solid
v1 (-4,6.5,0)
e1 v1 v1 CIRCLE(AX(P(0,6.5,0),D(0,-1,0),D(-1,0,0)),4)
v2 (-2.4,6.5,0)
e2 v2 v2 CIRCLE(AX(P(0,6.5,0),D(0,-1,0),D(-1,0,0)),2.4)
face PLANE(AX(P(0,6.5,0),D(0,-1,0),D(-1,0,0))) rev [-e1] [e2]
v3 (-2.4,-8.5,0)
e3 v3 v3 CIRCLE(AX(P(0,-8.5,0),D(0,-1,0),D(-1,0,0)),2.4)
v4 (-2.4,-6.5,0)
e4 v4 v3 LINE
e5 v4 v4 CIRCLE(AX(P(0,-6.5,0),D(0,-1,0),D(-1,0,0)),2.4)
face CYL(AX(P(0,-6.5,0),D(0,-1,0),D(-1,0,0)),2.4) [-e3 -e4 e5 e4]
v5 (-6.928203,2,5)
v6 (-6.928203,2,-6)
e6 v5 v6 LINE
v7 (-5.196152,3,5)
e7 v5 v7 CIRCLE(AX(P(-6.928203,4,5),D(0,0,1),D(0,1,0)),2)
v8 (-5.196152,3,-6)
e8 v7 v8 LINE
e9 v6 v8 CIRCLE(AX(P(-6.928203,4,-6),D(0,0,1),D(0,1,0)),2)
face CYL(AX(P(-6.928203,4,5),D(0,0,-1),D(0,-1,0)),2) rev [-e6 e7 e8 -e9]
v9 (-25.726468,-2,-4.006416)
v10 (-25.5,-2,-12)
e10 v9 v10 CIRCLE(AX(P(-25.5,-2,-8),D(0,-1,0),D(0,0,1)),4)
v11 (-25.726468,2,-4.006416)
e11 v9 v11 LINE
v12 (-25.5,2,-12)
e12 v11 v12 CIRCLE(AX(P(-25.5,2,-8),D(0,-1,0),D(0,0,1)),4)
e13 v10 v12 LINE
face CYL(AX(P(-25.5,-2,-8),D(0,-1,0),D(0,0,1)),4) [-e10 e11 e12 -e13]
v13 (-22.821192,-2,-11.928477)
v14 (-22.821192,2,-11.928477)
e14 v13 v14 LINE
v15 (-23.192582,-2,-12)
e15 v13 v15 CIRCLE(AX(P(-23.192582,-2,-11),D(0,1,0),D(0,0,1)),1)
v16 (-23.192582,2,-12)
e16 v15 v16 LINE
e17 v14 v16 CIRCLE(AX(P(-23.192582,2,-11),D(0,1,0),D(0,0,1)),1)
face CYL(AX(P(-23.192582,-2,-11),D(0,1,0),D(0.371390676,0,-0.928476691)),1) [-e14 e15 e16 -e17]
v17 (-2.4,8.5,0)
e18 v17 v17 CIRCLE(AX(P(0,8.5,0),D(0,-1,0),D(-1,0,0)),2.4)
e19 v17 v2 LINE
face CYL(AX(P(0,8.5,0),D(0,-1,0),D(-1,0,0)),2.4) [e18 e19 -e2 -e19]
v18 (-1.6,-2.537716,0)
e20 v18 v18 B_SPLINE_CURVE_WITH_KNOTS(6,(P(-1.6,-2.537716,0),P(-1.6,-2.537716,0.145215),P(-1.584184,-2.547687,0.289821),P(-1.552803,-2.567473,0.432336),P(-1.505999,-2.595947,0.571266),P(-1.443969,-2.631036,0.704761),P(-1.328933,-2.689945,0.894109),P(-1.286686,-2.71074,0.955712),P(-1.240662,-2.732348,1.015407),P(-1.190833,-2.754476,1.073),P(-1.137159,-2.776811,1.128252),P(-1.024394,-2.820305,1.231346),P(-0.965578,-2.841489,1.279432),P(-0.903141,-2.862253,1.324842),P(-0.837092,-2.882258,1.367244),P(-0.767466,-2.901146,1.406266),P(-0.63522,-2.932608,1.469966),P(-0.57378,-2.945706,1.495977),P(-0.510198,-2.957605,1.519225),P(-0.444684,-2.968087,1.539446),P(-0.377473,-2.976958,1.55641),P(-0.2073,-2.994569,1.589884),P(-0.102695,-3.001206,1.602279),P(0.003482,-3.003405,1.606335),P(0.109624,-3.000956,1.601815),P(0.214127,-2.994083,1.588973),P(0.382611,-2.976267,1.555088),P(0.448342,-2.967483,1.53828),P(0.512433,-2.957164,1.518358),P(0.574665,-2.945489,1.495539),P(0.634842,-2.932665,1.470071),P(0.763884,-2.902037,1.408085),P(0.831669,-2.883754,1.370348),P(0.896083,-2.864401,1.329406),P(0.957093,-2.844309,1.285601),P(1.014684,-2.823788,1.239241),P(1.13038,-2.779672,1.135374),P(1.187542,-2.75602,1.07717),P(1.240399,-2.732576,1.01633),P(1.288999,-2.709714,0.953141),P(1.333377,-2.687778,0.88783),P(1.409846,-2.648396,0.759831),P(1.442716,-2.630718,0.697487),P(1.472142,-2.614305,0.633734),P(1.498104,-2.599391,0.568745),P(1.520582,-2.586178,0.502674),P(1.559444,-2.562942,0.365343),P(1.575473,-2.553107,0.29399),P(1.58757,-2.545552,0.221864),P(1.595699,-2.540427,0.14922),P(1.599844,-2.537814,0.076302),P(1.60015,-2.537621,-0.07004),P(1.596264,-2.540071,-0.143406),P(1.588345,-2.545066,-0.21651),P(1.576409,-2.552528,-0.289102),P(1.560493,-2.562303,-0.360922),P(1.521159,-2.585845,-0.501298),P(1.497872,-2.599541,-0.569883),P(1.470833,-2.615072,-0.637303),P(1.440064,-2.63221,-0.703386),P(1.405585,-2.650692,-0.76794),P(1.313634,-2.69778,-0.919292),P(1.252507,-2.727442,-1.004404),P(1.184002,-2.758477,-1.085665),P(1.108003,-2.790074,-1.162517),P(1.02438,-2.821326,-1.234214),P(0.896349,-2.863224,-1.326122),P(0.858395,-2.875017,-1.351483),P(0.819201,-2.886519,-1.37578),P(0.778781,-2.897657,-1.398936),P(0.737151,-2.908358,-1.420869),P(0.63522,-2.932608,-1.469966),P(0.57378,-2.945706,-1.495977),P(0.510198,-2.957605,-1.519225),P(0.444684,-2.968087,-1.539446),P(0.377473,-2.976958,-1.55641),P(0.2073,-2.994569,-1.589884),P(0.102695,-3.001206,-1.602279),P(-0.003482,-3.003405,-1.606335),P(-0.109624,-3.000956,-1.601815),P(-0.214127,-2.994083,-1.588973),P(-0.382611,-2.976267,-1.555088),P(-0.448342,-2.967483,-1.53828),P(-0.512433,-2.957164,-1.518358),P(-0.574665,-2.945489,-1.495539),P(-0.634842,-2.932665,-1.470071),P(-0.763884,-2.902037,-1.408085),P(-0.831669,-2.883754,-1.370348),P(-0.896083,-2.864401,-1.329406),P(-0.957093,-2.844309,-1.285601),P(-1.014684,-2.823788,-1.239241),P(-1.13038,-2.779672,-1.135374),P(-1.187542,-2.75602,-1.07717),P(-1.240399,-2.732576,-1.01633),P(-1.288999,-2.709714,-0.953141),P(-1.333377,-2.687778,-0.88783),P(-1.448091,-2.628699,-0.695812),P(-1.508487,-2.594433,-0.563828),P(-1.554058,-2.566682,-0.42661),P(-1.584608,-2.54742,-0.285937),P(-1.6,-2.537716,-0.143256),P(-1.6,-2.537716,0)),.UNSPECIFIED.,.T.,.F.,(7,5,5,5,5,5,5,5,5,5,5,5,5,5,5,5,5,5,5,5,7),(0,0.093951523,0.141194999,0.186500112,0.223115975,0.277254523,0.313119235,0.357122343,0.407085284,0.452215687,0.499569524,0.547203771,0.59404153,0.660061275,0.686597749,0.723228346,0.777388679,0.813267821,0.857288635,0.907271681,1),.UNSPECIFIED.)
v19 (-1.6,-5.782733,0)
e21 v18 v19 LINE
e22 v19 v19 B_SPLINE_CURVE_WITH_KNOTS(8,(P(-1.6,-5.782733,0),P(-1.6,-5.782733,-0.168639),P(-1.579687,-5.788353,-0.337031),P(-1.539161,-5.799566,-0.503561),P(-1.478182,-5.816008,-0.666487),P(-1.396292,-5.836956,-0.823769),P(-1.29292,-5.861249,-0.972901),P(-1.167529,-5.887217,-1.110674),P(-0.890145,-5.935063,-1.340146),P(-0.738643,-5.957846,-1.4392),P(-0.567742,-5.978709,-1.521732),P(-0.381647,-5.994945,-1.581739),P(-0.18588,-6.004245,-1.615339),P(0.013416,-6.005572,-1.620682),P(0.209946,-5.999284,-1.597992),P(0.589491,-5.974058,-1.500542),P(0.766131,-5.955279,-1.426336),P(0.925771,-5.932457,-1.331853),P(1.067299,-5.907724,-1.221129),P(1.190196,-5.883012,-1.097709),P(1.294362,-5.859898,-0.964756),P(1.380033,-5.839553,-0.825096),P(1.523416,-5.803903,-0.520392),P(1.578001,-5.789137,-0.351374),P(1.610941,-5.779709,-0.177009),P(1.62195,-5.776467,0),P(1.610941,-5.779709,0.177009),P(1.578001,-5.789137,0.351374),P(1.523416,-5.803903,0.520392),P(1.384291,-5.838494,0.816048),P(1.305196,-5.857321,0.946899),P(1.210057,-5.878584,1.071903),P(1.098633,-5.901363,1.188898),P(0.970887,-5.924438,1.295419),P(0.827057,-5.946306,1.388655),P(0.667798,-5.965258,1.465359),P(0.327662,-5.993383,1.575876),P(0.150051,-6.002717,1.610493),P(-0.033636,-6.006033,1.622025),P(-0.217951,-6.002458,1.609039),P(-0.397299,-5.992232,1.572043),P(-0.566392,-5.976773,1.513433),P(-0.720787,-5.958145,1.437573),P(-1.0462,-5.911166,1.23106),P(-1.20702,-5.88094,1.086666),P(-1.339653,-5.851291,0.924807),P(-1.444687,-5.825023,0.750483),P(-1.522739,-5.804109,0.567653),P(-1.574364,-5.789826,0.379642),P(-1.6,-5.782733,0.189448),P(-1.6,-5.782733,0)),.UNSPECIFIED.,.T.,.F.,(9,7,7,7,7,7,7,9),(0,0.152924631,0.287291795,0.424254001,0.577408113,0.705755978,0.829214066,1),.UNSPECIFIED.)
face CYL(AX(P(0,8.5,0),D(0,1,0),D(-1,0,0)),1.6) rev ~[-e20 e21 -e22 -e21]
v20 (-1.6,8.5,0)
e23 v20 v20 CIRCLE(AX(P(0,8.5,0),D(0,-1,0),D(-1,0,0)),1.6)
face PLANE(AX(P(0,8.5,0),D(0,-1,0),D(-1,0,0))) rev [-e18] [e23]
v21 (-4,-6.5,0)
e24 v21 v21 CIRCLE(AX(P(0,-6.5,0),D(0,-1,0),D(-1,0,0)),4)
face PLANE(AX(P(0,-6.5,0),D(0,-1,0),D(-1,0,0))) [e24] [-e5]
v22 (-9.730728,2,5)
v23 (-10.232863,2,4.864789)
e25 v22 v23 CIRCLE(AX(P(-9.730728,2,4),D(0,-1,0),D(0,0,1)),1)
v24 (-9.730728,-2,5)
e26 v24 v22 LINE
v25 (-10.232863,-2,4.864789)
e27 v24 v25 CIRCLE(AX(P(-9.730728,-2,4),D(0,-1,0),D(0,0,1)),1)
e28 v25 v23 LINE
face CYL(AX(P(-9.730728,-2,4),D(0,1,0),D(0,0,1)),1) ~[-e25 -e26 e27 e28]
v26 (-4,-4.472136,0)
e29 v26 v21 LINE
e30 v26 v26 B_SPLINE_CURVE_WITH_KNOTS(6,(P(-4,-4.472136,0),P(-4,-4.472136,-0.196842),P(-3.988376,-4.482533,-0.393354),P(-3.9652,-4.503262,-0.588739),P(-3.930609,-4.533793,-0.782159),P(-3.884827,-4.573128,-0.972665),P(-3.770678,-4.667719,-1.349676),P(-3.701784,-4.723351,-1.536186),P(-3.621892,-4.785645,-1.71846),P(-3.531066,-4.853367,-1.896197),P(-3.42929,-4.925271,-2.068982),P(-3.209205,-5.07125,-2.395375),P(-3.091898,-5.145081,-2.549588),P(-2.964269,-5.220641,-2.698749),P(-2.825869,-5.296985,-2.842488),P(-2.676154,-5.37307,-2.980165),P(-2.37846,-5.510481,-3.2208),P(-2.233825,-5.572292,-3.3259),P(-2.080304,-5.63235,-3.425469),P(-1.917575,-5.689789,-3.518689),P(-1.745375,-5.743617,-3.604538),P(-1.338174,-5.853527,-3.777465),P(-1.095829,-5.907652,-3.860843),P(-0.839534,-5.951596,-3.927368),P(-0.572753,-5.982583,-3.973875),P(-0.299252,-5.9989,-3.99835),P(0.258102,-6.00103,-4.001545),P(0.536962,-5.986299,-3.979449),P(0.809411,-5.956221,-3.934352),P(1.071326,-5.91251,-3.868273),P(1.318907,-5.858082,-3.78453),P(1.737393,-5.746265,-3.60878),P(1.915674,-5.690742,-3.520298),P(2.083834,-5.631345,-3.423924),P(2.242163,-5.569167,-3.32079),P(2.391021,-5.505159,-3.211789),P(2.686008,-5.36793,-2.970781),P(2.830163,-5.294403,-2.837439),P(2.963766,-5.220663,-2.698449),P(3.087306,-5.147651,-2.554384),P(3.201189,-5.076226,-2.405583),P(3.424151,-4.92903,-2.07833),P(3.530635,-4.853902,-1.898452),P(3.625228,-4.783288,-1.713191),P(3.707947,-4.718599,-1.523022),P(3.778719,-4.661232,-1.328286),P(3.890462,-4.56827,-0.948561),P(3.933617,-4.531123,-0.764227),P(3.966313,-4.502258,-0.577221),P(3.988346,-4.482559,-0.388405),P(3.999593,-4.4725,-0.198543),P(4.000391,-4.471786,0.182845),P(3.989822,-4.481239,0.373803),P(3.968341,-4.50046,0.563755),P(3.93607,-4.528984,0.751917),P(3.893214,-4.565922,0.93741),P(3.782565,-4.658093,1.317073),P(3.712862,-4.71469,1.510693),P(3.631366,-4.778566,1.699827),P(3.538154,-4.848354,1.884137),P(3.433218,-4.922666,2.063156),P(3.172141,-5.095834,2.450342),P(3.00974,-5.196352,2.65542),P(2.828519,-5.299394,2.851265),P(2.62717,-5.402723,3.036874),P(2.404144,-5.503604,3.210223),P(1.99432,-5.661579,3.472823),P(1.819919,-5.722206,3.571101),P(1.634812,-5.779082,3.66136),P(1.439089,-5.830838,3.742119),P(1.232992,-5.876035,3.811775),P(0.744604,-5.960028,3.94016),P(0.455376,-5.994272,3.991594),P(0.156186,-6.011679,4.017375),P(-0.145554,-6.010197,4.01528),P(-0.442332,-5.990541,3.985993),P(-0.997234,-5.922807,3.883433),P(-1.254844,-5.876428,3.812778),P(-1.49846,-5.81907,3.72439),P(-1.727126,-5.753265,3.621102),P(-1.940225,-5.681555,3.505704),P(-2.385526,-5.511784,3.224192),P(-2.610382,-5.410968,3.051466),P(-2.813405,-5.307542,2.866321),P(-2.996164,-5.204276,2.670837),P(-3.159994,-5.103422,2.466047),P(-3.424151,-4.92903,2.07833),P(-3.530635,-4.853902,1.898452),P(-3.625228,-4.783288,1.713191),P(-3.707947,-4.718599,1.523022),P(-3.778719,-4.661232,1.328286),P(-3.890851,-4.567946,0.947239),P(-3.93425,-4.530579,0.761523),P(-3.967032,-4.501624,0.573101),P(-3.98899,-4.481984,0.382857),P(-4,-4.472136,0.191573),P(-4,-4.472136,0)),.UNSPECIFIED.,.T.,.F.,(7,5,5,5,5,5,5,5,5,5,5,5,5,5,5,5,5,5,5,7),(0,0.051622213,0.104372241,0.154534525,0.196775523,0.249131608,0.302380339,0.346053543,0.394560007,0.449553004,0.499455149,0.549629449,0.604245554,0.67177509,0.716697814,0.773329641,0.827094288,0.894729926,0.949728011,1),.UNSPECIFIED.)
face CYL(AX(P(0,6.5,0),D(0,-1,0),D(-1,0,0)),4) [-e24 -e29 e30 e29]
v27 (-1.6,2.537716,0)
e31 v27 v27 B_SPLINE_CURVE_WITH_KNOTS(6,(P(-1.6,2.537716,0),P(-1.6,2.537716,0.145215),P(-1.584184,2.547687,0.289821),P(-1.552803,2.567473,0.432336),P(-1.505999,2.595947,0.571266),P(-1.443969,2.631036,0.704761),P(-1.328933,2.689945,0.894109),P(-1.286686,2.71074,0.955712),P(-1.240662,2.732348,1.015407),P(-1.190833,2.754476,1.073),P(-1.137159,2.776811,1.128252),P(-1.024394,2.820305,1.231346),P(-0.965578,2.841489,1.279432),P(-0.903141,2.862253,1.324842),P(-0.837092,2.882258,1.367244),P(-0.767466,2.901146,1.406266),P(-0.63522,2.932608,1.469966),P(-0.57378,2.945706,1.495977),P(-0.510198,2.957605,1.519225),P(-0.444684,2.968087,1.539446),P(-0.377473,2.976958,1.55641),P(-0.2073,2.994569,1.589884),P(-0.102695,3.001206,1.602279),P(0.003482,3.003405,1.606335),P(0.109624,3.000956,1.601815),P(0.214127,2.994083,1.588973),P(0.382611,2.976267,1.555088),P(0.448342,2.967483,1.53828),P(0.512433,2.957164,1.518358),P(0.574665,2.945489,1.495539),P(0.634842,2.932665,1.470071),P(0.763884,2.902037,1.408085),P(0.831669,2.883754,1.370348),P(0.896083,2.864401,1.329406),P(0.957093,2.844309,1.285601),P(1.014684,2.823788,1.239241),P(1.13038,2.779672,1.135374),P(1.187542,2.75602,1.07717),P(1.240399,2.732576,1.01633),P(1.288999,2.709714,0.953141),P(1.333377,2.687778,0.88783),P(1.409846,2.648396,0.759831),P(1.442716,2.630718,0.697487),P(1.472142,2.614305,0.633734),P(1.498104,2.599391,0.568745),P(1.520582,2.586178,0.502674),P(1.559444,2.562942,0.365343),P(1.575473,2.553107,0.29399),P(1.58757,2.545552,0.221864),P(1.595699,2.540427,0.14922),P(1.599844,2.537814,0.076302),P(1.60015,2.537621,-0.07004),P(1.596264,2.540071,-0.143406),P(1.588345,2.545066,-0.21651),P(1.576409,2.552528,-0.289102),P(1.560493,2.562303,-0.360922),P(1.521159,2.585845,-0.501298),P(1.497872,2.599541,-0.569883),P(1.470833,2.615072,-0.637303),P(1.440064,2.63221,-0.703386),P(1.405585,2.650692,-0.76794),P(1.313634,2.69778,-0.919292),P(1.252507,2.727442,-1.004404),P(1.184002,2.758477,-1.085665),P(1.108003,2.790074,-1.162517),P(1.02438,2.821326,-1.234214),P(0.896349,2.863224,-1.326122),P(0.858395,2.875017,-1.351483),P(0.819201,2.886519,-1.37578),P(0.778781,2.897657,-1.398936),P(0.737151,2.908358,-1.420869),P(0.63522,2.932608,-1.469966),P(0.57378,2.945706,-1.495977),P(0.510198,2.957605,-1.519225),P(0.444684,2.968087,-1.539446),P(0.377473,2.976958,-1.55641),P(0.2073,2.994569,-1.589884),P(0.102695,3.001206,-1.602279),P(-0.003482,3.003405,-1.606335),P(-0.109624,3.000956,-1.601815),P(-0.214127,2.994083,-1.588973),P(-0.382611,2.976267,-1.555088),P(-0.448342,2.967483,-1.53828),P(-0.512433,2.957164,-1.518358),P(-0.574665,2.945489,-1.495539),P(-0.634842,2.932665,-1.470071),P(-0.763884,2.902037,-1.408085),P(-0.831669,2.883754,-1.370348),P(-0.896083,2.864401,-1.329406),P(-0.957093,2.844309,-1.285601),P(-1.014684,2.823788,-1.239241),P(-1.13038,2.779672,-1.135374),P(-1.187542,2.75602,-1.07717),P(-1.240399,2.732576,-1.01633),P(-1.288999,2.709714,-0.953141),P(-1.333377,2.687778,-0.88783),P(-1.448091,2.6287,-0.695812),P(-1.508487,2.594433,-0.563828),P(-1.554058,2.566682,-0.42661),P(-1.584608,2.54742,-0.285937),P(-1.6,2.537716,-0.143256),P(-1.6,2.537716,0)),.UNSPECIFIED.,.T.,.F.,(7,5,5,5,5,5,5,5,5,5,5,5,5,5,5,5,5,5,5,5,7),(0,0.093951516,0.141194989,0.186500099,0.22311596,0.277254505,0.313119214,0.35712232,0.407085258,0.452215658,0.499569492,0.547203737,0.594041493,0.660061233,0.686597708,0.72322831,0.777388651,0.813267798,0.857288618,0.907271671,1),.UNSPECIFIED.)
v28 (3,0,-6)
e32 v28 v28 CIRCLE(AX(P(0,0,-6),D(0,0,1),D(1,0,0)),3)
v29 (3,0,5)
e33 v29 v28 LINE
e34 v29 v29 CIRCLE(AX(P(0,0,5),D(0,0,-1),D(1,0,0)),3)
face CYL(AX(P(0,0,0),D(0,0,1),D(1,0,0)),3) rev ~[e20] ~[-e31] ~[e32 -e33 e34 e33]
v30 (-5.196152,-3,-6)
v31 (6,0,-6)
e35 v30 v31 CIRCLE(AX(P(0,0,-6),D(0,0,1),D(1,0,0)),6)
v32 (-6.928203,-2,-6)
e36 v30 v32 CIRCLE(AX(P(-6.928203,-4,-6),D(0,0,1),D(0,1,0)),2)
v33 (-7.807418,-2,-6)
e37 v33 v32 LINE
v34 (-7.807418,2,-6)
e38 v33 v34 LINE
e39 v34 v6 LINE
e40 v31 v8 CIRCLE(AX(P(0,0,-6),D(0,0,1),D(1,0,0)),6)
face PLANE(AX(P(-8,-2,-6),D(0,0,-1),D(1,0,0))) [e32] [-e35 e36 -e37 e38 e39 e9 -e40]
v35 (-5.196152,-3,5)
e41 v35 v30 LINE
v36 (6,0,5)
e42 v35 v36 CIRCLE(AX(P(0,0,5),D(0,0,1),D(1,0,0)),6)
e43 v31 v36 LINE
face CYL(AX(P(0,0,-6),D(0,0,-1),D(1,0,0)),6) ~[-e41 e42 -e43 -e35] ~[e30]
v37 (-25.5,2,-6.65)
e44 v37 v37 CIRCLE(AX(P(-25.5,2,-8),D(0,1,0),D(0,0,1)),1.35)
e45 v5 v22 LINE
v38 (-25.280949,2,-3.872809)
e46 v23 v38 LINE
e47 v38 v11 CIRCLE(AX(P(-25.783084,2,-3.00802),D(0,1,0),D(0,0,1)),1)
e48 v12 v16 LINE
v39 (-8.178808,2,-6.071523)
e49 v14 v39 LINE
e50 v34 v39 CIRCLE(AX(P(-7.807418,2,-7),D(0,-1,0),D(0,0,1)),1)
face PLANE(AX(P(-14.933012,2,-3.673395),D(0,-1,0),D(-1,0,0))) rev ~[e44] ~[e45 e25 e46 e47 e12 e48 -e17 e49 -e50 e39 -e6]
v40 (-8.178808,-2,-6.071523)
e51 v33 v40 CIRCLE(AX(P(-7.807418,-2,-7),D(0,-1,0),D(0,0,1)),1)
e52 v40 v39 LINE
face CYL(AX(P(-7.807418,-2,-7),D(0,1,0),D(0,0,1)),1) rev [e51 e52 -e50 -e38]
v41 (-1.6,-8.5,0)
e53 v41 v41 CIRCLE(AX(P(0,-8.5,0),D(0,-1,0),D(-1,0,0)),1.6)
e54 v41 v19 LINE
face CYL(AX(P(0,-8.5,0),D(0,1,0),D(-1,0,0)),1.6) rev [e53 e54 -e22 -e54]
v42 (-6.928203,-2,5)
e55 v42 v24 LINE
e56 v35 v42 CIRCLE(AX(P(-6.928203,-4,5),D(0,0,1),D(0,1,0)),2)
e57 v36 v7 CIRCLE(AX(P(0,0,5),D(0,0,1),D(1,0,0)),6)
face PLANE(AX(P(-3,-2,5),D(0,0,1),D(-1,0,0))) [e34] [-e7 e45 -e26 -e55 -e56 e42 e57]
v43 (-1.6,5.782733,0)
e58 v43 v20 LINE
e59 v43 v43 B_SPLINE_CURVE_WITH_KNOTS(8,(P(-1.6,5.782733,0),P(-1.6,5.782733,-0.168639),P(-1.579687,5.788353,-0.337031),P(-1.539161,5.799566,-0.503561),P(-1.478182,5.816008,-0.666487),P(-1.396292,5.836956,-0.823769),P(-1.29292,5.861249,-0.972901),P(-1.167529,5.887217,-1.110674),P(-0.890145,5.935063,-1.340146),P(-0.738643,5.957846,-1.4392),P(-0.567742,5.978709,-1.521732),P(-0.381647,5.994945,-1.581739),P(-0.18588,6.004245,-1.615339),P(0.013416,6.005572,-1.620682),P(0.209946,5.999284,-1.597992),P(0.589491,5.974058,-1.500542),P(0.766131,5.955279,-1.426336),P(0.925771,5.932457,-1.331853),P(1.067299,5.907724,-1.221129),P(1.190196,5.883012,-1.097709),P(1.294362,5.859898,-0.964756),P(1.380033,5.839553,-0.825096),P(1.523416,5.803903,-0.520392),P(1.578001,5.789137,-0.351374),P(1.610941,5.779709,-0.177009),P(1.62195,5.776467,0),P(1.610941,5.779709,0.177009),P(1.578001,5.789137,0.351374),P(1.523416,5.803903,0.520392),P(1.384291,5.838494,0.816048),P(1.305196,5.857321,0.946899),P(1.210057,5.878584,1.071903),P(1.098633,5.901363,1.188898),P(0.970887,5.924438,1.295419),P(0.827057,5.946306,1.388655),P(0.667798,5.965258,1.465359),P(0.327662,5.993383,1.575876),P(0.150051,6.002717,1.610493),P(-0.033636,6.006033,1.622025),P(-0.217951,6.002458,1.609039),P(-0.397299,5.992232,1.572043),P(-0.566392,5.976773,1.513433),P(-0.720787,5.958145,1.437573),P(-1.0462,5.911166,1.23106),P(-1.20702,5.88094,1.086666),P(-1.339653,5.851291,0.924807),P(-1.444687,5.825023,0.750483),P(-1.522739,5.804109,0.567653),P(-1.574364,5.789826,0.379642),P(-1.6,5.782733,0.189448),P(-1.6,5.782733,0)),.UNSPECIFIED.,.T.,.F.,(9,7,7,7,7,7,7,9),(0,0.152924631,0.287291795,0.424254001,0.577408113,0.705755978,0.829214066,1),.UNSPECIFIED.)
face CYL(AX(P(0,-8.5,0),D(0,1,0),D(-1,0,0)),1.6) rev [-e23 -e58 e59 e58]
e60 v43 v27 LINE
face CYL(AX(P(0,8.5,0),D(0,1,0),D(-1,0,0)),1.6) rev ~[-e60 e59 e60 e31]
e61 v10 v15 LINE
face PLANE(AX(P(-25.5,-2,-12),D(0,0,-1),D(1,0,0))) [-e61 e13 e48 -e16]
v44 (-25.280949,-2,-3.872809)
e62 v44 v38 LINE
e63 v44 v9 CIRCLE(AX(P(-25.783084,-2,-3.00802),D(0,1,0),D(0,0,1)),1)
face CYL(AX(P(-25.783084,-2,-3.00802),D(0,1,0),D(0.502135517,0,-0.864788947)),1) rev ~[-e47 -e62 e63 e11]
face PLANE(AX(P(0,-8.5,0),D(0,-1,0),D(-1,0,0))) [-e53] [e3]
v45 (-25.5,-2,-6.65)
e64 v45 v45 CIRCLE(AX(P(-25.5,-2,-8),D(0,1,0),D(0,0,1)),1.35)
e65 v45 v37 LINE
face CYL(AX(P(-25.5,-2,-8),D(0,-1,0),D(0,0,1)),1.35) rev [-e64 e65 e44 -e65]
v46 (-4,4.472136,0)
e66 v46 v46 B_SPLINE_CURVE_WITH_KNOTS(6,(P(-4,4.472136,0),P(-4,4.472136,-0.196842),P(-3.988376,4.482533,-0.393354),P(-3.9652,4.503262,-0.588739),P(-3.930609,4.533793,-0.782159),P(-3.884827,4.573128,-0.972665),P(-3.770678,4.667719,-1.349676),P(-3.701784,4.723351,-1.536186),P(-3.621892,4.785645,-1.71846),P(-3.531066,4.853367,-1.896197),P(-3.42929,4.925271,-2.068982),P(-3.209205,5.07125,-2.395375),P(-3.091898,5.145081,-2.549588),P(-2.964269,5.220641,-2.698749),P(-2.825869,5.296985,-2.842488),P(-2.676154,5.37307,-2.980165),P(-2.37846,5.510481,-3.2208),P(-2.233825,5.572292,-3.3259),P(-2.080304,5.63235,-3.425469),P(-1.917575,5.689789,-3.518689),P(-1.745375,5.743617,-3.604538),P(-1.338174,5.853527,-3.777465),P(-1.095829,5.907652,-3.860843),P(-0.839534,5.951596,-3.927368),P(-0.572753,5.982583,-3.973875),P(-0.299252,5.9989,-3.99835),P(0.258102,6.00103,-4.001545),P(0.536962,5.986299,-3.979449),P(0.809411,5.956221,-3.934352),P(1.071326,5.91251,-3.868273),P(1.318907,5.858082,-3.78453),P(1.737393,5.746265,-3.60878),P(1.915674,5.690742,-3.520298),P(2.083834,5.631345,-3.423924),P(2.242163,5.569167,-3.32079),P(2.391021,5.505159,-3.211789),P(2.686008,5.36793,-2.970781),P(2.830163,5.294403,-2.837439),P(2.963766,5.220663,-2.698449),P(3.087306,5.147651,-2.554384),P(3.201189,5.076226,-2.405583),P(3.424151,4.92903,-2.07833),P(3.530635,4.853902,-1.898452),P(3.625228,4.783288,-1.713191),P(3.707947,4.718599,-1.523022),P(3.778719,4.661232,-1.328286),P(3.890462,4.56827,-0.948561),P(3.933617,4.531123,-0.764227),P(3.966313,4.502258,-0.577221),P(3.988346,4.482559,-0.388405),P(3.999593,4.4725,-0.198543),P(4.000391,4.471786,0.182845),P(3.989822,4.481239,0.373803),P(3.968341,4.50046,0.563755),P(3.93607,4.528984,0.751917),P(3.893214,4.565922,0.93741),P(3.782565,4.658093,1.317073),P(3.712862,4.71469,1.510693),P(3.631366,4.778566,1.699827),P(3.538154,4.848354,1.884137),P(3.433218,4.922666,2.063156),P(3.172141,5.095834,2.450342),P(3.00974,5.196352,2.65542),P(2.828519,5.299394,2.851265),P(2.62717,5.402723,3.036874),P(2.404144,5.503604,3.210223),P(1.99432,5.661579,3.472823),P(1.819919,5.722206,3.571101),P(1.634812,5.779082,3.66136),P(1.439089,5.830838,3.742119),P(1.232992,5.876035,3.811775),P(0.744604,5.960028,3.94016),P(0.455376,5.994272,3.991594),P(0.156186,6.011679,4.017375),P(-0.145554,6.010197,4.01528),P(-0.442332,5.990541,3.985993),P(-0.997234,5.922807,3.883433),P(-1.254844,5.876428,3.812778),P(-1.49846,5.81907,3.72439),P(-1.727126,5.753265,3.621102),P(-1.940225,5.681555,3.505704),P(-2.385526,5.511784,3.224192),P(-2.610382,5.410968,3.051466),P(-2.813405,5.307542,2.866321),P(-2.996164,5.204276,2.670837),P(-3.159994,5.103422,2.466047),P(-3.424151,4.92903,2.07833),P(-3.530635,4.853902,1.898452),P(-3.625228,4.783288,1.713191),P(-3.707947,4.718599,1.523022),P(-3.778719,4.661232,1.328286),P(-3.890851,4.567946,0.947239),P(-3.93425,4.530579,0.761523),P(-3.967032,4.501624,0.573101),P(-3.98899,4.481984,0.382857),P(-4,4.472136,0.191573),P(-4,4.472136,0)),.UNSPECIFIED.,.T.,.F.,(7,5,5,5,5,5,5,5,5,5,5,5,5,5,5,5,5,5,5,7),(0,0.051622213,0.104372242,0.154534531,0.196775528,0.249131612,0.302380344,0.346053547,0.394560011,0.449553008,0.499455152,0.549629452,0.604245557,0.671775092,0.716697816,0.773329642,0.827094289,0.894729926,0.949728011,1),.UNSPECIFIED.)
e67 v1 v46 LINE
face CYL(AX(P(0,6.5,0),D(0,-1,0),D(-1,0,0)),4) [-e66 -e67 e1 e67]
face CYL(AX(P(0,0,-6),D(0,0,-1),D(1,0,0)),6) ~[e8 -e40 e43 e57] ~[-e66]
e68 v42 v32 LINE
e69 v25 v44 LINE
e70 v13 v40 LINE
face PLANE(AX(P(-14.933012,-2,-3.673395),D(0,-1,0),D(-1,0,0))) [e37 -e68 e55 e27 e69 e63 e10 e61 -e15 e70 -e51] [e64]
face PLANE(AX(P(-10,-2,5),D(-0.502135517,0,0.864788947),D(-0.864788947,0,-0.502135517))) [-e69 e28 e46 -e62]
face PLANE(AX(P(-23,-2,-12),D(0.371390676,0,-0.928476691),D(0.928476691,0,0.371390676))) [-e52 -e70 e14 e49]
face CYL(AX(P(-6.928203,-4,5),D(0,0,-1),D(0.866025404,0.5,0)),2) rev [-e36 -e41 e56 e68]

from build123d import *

# Parameters (mm, degrees)
BOSS_EXTRUDE1_DEPTH            = 5
BOSS_EXTRUDE1_DEPTH_BACK       = 6
SKETCH2_R                      = 6
CUT_EXTRUDE1_REACH             = 14.01
SKETCH3_R                      = 3
CUT_EXTRUDE1_DIRECTION_2_REACH = 14.01
SKETCH4_R                      = 1.6
CUT_EXTRUDE4_DEPTH             = 17
BOSS_EXTRUDE2_DEPTH            = 2
BOSS_EXTRUDE2_DEPTH_BACK       = 2
SKETCH5_R                      = 1.35
FILLET1_R                      = 2
FILLET2_R                      = 1


with BuildPart() as part:
    # Sketch1 → Revolve1 (revolve)
    with BuildSketch(Plane.XY, mode=Mode.PRIVATE) as revolve1_sk:
        Polygon((1.6, -8.5), (1.6, 8.5), (2.4, 8.5), (2.4, 6.5), (4, 6.5), (4, -6.5), (2.4, -6.5), (2.4, -8.5), align=None)
    revolve(revolve1_sk.sketch.rotate(Axis((0, 9.772747413, 0), (0, -1, 0)), 180), axis=Axis((0, 9.772747413, 0), (0, -1, 0)))

    # Sketch2 → Boss-Extrude1 (add, two sides: drawn at the far end of the back side and taken through both)
    with BuildSketch(Plane.XY.offset(-BOSS_EXTRUDE1_DEPTH_BACK)):
        Circle(SKETCH2_R)
    extrude(amount=BOSS_EXTRUDE1_DEPTH + BOSS_EXTRUDE1_DEPTH_BACK)

    # Sketch3 → Cut-Extrude1 (cut, up to next)
    with BuildSketch(Plane.XY, mode=Mode.PRIVATE) as cut_extrude1_sk1:
        Circle(SKETCH3_R)
    cut_extrude1_tool1 = extrude(cut_extrude1_sk1.sketch, amount=-CUT_EXTRUDE1_REACH, mode=Mode.PRIVATE) & part.part
    add(cut_extrude1_tool1.solids().sort_by_distance((0, 0, 0))[0], mode=Mode.SUBTRACT)

    # Sketch3 → Cut-Extrude1 direction 2 (cut, up to next)
    with BuildSketch(Plane.XY, mode=Mode.PRIVATE) as cut_extrude1_direction_2_sk1:
        Circle(SKETCH3_R)
    cut_extrude1_direction_2_tool1 = extrude(cut_extrude1_direction_2_sk1.sketch, amount=CUT_EXTRUDE1_DIRECTION_2_REACH, mode=Mode.PRIVATE) & part.part
    add(cut_extrude1_direction_2_tool1.solids().sort_by_distance((0, 0, 0))[0], mode=Mode.SUBTRACT)

    # Sketch4 → Cut-Extrude4 (cut)
    with BuildSketch(Plane(origin=(0, 8.5, 0), x_dir=(1, 0, 0), z_dir=(0, 1, 0))):
        with Locations(Location((0, 0, 0), (0, 0, 180))):
            Circle(SKETCH4_R)
    extrude(amount=-CUT_EXTRUDE4_DEPTH, mode=Mode.SUBTRACT)

    # Sketch5 → Boss-Extrude2 (add, two sides: drawn at the far end of the back side and taken through both)
    with BuildSketch(Plane(origin=(0, 0, 0), x_dir=(1, 0, 0), z_dir=(0, 1, 0)).offset(-BOSS_EXTRUDE2_DEPTH_BACK)):
        with BuildLine():
            Line((-6, -5), (-10, -5))
            Line((-10, -5), (-25.5, 4))
            ThreePointArc((-25.5, 4), (-29.5, 8), (-25.5, 12))
            Line((-25.5, 12), (-23, 12))
            Line((-23, 12), (-8, 6))
            Line((-8, 6), (-6, 6))
            Line((-6, 6), (-3, 6))
            Line((-3, 6), (-3, -5))
            Line((-3, -5), (-6, -5))
        make_face()
        with Locations(Location((-25.5, 8, 0), (0, 0, 270))):
            Circle(SKETCH5_R, mode=Mode.SUBTRACT)
    extrude(amount=BOSS_EXTRUDE2_DEPTH + BOSS_EXTRUDE2_DEPTH_BACK)

    # Fillet1
    fillet1_edges = [part.edges().sort_by_distance(p)[0] for p in [
        (-5.656854249, 2, -0.5),
        (-5.656854249, -2, -0.5),
    ]]
    fillet(fillet1_edges, radius=FILLET1_R)

    # Fillet2
    fillet2_edges = [part.edges().sort_by_distance(p)[0] for p in [
        (-10, 0, 5),
        (-25.5, 0, -4),
        (-23, 0, -12),
        (-8, 0, -6),
    ]]
    fillet(fillet2_edges, radius=FILLET2_R)


solid = part.part
